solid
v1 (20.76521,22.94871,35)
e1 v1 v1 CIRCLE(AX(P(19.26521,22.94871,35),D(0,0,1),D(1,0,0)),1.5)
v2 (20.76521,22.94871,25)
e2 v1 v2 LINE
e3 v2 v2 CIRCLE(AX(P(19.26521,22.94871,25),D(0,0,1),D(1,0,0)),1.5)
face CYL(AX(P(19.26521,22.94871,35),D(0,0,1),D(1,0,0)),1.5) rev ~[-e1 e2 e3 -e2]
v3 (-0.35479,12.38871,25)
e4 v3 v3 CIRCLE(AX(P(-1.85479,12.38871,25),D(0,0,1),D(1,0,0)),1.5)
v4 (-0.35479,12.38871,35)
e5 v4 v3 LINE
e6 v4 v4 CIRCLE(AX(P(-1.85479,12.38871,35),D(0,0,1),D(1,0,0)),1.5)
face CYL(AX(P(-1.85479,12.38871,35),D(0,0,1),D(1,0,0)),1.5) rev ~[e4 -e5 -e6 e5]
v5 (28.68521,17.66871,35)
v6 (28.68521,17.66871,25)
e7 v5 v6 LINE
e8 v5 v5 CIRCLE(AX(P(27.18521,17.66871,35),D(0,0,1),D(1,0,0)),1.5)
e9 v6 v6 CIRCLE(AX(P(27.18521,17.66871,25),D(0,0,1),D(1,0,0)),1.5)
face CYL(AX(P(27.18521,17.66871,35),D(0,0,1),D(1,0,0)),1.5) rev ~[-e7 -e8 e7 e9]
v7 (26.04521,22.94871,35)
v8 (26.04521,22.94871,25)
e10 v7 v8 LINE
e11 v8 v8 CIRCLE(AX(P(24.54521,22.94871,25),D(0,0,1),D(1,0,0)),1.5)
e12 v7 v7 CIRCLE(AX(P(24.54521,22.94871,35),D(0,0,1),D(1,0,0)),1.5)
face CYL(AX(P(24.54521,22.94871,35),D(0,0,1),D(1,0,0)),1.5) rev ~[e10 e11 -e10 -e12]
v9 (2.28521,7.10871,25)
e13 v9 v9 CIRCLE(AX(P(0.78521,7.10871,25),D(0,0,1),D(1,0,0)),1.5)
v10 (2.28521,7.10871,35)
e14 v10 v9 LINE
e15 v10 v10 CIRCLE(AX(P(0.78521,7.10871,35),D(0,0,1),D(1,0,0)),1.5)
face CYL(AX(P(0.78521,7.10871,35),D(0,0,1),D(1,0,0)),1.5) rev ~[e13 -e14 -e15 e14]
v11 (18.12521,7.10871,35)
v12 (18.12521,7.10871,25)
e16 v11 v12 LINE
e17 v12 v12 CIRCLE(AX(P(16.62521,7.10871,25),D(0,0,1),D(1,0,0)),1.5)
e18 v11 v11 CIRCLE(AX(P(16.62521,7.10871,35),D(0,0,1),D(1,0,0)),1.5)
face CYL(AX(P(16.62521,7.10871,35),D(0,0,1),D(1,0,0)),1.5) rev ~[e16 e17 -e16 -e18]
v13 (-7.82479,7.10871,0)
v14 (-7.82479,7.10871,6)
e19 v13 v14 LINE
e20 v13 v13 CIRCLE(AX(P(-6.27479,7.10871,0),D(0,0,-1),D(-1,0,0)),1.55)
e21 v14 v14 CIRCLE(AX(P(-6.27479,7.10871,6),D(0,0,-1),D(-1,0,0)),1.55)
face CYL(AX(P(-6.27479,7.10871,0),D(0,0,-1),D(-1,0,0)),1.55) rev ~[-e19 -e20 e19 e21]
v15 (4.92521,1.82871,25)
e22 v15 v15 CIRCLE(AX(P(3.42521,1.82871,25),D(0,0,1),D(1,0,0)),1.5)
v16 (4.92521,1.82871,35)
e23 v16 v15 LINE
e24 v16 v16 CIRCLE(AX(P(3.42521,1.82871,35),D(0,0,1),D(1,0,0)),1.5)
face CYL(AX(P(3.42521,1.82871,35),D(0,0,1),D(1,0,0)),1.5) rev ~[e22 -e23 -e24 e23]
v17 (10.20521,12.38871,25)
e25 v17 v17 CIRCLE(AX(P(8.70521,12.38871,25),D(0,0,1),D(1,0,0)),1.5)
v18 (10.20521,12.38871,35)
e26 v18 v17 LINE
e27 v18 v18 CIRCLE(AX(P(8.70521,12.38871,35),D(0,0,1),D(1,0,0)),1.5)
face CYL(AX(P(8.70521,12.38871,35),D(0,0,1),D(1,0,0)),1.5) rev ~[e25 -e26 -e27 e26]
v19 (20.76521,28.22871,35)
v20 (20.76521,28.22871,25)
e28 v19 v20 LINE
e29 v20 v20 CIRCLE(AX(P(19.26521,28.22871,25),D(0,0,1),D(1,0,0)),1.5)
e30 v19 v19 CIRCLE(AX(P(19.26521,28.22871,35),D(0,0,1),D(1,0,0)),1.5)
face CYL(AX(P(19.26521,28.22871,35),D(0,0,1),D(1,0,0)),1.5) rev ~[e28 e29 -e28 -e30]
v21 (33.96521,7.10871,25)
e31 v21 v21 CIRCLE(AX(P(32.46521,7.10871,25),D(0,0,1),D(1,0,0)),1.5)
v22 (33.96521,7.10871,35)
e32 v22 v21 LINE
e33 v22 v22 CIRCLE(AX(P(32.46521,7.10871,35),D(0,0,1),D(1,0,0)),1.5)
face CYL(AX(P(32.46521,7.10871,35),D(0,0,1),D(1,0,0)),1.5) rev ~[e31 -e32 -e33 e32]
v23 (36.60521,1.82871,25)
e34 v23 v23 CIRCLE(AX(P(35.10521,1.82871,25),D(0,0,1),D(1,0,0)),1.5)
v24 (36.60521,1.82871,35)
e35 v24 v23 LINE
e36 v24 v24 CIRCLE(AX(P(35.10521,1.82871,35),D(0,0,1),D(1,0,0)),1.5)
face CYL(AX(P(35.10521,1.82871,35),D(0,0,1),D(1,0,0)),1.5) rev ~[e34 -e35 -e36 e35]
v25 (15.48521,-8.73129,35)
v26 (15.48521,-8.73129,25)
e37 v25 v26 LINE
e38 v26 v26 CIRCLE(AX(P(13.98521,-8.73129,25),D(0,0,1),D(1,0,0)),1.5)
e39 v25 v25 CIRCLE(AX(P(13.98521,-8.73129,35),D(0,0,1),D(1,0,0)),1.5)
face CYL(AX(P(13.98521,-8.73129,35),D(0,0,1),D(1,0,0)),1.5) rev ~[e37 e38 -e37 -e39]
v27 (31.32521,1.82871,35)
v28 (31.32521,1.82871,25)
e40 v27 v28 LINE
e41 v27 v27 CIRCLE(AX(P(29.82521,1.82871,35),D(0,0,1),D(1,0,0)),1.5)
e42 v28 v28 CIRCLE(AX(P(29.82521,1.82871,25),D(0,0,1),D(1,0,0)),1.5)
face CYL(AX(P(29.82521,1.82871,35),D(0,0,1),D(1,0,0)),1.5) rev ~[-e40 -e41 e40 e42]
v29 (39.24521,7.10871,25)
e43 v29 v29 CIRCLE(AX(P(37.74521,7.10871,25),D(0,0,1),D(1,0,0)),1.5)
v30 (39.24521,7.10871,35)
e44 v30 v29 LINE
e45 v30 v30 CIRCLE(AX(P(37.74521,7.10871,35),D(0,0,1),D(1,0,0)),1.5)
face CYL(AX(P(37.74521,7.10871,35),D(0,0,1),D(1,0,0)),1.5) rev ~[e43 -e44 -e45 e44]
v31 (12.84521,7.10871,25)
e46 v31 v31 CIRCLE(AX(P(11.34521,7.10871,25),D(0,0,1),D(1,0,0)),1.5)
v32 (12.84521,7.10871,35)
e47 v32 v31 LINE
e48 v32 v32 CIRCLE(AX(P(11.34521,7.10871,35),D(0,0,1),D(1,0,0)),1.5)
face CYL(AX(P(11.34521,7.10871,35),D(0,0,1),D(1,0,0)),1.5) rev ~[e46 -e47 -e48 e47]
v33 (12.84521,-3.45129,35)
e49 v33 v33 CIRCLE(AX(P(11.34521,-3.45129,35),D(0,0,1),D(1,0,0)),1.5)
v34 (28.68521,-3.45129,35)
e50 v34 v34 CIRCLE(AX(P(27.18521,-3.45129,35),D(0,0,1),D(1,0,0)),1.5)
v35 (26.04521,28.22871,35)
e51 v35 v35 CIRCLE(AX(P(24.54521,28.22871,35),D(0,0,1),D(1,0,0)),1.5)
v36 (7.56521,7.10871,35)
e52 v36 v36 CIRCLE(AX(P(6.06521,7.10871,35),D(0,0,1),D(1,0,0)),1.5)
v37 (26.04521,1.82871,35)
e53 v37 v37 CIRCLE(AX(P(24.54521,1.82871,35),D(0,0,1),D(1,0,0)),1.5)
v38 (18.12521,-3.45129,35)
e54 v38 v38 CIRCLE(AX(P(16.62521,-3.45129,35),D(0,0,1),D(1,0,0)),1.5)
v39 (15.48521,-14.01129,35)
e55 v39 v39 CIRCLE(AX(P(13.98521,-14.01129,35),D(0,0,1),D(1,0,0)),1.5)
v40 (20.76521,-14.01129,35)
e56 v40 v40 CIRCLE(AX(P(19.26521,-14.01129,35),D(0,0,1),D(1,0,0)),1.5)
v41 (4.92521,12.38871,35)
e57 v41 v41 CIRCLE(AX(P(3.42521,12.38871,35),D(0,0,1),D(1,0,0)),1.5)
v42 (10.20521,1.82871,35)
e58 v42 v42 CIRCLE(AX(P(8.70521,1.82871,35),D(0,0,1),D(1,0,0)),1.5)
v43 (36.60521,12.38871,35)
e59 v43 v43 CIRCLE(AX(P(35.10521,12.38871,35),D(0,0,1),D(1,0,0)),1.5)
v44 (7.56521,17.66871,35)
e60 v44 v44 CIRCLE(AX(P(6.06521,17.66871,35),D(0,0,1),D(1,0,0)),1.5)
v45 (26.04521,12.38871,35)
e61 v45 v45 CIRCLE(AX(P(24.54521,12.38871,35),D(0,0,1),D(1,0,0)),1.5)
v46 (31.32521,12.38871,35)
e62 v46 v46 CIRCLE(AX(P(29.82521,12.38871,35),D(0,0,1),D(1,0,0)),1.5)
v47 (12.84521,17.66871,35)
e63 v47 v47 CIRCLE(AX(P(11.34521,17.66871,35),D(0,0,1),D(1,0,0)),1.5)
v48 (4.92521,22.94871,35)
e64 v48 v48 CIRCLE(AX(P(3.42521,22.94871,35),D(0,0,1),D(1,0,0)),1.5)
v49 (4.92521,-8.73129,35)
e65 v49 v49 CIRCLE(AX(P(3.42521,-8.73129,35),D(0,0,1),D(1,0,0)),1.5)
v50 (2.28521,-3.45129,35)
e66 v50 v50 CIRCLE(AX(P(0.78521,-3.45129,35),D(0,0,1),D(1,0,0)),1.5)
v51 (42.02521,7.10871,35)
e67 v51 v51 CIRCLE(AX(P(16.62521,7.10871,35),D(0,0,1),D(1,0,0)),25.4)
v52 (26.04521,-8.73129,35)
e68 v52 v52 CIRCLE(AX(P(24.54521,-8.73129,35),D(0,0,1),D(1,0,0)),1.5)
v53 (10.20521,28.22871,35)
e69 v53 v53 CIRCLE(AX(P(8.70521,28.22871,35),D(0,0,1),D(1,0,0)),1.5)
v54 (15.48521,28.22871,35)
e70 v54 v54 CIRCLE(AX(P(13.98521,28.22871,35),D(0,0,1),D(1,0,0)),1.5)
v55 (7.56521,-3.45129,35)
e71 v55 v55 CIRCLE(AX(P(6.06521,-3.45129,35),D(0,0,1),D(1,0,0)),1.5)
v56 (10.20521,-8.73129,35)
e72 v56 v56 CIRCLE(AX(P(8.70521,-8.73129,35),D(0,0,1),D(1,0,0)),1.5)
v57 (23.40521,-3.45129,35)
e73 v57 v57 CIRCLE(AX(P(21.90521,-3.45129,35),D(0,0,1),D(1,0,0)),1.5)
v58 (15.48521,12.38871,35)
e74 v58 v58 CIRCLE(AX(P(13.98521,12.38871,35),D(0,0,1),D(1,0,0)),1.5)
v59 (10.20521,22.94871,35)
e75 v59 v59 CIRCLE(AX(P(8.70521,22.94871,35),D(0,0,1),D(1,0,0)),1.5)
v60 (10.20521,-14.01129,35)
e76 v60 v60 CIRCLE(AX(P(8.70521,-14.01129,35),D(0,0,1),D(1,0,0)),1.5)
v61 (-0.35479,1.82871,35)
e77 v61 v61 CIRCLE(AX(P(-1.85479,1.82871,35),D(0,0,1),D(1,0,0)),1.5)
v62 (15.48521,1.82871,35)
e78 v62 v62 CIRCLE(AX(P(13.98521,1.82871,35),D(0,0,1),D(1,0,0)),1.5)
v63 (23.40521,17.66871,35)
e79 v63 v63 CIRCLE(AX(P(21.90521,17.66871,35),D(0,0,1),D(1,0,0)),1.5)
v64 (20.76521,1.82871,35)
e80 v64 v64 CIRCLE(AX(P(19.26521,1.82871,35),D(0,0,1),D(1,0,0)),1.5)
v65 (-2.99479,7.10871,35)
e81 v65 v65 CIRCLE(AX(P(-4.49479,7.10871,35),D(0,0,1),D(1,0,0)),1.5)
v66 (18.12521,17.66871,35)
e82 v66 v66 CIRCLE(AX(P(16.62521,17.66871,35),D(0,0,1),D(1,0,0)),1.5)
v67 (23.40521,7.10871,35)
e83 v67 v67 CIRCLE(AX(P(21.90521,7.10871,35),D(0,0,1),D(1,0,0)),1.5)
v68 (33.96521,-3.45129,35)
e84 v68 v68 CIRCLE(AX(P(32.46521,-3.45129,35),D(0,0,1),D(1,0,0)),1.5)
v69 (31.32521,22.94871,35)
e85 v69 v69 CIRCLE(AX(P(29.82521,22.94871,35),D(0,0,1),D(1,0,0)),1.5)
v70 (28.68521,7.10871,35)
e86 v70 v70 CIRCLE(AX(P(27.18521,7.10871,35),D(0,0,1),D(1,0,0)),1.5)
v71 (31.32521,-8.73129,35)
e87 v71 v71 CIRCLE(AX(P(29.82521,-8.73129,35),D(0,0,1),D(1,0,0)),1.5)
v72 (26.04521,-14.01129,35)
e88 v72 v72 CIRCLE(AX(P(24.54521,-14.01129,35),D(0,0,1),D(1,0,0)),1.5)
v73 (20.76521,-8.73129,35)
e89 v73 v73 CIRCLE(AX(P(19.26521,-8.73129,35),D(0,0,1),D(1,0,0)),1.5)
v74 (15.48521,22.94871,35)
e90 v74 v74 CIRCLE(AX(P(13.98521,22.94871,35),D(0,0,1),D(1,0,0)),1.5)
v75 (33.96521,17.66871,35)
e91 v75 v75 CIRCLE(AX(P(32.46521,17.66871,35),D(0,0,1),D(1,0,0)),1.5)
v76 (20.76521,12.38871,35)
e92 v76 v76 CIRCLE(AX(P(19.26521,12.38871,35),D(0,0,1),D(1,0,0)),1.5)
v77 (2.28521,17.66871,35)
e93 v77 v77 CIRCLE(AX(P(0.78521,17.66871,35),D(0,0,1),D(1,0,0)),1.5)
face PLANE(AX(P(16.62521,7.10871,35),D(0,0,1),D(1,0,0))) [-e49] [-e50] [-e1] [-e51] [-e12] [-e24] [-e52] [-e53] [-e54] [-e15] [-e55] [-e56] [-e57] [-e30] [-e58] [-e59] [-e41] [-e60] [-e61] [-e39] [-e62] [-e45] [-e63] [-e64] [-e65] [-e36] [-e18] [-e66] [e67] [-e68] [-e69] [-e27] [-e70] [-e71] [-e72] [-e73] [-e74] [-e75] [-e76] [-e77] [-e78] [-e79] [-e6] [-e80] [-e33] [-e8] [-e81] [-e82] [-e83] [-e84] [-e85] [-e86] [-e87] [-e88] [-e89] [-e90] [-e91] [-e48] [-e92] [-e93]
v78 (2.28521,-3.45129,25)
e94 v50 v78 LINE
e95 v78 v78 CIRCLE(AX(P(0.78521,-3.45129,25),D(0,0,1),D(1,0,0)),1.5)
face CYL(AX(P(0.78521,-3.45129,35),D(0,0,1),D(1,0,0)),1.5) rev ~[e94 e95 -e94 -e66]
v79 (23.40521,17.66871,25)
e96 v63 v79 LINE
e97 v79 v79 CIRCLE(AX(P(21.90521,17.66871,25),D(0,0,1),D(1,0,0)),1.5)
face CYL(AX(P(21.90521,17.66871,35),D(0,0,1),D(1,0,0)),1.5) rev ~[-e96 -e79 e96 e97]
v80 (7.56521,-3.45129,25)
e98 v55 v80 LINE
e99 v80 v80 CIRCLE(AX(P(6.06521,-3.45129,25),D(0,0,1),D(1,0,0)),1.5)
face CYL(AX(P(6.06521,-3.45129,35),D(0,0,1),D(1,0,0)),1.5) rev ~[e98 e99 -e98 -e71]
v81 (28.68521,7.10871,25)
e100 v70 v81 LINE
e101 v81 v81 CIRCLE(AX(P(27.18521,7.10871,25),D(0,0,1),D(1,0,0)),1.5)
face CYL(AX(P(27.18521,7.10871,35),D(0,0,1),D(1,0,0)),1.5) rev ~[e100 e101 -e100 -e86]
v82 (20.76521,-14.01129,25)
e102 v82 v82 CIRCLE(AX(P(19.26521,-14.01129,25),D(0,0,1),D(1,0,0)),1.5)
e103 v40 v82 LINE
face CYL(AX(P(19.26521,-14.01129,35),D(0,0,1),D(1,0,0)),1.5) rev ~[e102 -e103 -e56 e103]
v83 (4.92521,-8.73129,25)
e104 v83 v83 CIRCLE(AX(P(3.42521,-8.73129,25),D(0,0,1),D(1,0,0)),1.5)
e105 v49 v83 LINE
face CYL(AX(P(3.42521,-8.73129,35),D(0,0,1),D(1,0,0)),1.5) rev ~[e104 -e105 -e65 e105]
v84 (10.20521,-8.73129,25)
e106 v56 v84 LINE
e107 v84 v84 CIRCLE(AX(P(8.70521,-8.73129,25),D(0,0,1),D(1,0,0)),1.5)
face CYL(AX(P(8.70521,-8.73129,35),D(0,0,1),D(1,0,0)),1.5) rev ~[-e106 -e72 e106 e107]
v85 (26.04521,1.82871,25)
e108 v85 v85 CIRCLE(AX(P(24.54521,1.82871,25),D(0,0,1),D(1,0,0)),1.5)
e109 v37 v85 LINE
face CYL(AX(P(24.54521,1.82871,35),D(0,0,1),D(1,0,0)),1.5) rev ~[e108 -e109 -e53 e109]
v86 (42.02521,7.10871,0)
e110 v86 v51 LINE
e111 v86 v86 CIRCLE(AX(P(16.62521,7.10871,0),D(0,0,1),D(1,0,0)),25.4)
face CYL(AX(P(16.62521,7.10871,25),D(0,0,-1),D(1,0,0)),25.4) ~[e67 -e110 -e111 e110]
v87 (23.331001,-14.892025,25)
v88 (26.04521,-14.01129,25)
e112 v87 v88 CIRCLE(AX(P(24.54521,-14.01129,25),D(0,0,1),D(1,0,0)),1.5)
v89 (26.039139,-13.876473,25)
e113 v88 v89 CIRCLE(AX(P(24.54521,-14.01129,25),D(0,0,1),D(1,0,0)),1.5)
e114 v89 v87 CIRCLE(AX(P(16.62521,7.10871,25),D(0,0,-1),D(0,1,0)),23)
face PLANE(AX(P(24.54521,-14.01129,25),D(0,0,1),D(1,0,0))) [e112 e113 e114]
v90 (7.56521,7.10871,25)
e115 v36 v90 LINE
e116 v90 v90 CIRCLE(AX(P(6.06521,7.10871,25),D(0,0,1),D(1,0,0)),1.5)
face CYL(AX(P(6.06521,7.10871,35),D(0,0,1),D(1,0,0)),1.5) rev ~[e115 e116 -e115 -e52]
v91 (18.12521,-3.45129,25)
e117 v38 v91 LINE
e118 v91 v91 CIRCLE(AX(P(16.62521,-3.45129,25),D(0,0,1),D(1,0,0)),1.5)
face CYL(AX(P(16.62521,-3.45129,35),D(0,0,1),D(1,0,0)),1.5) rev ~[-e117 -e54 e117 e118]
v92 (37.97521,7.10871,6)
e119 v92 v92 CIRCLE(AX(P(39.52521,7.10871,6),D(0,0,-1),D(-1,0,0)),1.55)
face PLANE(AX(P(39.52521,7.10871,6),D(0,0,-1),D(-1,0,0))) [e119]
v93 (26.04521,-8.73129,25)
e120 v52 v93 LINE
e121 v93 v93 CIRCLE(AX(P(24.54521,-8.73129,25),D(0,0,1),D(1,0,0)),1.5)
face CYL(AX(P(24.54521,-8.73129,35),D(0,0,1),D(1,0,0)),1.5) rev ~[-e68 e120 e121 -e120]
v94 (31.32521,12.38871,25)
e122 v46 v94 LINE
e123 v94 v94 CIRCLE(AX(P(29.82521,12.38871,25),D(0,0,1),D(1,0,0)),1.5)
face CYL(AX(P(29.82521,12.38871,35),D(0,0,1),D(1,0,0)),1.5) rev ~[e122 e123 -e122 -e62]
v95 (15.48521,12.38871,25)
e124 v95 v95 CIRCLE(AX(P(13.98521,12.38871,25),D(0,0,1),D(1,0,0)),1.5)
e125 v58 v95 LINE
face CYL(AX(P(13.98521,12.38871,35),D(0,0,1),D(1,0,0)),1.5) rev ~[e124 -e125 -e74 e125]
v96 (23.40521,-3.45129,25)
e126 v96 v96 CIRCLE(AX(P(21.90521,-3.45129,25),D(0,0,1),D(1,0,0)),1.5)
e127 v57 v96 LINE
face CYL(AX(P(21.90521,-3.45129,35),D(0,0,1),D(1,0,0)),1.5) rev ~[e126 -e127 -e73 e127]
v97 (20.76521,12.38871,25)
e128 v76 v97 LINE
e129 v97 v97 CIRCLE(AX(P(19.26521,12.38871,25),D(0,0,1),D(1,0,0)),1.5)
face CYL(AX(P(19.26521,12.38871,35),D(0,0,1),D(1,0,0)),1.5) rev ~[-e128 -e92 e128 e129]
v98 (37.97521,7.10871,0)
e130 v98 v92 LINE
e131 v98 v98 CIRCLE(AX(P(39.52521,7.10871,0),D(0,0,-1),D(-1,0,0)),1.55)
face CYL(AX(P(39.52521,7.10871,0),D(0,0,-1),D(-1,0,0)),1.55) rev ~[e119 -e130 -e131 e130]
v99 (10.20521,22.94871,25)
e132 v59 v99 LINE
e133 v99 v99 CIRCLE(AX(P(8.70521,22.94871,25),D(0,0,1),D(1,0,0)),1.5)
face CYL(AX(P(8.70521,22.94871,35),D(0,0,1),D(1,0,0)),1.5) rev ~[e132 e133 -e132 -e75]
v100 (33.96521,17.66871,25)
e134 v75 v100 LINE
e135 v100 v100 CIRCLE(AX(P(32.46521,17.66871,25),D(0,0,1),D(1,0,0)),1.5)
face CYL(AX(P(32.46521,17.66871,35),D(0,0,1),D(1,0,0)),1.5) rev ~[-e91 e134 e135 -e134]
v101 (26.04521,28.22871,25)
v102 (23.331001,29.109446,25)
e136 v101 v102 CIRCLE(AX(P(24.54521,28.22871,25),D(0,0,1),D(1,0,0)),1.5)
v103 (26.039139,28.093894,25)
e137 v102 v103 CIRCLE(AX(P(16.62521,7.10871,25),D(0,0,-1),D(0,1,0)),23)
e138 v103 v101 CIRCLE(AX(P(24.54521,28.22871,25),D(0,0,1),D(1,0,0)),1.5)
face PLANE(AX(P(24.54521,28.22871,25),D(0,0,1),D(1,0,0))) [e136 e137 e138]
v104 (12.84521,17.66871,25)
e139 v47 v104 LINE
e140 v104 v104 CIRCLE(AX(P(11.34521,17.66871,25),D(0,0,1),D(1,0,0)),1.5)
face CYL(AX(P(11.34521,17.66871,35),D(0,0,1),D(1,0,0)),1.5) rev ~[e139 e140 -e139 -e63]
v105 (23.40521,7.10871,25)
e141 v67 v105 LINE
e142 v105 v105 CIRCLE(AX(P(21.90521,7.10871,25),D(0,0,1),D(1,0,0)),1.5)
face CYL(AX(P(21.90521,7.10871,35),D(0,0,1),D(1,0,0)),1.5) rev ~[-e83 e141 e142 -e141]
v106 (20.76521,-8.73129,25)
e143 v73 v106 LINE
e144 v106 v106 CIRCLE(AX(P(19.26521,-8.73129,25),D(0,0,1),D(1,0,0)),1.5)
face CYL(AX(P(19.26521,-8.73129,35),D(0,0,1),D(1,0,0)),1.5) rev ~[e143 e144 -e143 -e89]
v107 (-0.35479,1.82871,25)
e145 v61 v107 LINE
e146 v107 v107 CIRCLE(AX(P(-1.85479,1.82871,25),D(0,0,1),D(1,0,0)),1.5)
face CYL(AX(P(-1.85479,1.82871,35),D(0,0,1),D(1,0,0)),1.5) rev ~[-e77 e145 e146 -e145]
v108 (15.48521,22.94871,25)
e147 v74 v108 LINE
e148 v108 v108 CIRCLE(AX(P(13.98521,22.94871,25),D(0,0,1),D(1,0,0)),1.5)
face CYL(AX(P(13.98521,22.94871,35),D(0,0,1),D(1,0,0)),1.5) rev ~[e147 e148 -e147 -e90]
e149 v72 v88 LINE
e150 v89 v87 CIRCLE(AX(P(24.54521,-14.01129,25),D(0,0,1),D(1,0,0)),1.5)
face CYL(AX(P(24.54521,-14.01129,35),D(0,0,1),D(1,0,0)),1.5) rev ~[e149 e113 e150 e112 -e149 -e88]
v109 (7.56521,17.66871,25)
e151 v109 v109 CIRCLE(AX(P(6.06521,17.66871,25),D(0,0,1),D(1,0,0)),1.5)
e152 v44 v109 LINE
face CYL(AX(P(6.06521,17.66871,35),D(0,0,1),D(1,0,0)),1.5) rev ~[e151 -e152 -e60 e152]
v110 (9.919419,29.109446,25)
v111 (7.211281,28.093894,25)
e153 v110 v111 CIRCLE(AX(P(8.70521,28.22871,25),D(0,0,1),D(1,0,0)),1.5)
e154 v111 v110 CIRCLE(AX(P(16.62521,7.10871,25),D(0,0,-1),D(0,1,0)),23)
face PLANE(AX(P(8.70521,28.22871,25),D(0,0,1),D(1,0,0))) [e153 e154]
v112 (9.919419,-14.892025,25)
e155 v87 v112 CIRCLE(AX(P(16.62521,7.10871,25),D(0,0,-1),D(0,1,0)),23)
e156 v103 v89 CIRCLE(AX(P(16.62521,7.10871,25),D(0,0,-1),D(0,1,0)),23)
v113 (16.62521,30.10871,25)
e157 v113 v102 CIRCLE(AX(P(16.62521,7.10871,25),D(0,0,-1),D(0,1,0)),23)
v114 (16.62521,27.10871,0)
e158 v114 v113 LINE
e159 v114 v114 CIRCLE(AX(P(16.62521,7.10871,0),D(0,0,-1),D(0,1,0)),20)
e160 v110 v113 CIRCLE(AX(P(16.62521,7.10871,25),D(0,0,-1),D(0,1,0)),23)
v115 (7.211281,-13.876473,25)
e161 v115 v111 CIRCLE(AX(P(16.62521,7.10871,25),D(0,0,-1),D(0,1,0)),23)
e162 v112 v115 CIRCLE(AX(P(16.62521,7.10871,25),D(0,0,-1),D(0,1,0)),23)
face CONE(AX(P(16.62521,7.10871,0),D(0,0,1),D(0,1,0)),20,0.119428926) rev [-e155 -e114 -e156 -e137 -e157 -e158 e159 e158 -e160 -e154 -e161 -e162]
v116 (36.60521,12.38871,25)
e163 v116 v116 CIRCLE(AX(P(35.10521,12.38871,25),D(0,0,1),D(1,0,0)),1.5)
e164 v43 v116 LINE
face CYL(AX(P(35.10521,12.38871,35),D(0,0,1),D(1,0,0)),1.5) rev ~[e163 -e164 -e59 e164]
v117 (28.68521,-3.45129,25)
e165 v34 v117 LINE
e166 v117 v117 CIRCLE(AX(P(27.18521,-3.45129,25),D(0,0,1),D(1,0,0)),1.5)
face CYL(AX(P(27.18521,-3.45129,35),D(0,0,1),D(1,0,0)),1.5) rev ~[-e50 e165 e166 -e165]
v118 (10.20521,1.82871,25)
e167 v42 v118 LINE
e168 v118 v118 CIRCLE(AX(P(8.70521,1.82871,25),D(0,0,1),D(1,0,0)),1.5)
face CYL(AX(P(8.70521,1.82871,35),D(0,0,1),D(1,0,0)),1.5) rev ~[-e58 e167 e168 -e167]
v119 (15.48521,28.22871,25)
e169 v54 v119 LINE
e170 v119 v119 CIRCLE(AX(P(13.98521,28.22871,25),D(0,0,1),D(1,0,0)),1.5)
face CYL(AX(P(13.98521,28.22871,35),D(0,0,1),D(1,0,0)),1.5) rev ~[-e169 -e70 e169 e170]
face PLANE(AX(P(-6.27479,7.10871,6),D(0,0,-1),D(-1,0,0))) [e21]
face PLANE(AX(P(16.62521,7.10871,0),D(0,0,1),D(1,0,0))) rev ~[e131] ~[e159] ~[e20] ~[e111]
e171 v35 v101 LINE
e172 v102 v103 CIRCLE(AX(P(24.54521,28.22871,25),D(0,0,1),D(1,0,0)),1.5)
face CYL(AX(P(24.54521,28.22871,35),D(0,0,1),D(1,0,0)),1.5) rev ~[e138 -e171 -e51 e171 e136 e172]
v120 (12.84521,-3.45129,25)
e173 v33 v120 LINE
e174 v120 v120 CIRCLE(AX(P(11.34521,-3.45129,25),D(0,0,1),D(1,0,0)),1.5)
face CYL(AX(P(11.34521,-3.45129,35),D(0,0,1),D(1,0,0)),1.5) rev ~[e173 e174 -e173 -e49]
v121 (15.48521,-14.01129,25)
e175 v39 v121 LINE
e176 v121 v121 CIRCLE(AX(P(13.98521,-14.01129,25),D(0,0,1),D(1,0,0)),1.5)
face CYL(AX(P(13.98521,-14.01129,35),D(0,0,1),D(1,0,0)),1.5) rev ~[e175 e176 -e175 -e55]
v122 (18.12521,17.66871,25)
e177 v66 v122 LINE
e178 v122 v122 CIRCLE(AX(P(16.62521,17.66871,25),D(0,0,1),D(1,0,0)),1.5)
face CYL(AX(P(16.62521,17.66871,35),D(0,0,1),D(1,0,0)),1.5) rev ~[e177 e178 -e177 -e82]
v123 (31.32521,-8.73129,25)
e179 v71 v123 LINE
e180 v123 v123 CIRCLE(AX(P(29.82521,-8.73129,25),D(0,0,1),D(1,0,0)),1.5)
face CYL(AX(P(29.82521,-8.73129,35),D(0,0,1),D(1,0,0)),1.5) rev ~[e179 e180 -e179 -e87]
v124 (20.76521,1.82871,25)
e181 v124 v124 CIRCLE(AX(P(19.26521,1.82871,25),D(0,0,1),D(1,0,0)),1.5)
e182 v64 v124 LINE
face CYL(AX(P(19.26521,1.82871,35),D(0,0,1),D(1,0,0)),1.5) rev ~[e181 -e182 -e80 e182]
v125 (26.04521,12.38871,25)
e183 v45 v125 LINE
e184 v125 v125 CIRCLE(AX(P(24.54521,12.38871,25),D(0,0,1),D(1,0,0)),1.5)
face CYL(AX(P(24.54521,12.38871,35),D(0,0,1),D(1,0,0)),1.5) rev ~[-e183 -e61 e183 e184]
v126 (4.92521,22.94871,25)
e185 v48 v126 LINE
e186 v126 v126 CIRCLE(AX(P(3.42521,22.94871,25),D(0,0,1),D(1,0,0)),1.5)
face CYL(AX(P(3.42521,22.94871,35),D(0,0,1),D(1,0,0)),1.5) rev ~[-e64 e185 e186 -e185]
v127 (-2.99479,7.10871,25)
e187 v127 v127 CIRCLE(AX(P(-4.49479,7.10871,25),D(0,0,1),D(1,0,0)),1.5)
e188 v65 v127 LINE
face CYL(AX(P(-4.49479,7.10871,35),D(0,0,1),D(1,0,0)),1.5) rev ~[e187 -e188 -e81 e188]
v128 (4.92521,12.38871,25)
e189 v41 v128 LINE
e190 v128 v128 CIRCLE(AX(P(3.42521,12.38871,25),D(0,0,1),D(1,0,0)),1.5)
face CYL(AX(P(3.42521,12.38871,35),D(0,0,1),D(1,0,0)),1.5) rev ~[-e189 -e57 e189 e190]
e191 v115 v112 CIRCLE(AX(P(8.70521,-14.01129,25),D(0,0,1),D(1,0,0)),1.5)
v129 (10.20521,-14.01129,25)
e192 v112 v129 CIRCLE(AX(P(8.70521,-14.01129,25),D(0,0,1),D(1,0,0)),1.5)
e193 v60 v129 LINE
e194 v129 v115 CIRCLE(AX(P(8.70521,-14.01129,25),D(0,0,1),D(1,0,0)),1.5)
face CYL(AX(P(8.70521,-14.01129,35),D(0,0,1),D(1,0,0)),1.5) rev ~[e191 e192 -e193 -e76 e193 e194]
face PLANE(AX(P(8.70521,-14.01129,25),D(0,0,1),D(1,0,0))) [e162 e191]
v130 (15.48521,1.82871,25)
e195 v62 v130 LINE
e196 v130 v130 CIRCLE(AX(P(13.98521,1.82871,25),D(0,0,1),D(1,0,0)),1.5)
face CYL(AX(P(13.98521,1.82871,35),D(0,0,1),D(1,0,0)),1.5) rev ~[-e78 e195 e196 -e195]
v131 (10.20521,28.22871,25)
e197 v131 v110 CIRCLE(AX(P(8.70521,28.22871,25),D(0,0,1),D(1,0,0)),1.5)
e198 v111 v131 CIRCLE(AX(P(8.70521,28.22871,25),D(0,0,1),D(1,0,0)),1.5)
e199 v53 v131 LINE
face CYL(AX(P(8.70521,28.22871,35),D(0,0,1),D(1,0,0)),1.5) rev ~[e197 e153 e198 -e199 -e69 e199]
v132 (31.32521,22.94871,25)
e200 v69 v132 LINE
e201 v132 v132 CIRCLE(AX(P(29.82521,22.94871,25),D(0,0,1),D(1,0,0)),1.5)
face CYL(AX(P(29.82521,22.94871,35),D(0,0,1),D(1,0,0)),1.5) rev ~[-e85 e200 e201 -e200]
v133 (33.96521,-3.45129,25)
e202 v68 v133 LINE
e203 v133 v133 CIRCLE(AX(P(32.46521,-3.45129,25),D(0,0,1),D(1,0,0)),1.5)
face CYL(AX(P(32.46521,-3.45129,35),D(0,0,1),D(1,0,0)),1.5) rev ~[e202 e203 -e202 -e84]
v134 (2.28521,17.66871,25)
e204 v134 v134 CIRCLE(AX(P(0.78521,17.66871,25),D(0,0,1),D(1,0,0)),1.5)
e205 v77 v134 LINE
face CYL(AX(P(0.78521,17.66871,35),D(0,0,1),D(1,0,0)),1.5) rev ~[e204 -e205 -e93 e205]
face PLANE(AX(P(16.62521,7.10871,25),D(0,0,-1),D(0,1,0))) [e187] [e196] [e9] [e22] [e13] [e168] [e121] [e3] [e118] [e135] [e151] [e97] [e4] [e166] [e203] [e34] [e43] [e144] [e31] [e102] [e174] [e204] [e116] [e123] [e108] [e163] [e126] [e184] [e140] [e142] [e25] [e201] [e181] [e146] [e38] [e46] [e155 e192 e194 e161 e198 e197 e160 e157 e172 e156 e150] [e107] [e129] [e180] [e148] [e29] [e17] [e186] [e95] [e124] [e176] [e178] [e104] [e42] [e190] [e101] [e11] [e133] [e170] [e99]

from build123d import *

# Parameters (mm, degrees)
ESQUISSE1_R             = 25.4
BOSS_EXTRU_1_DEPTH      = 25
ESQUISSE6_R             = 1.55
ENL_V_MAT_EXTRU_4_DEPTH = 6
ESQUISSE8_R             = 25.4
BOSS_EXTRU_3_DEPTH      = 10
ESQUISSE9_R             = 1.5
ENL_V_MAT_EXTRU_5_DEPTH = 10


with BuildPart() as part:
    # Esquisse1 → Boss.-Extru.1 (new body)
    with BuildSketch(Plane.XY):
        with Locations((16.625210007, 7.108710486)):
            Circle(ESQUISSE1_R)
    extrude(amount=BOSS_EXTRU_1_DEPTH)

    # Esquisse6 → Enlèv. mat.-Extru.4 (cut)
    with BuildSketch(Plane(origin=(0, 0, 0), x_dir=(-1, 0, 0), z_dir=(0, 0, -1))):
        with Locations((-39.525210007, 7.108710486)):
            Circle(ESQUISSE6_R)
        with Locations((6.274789993, 7.108710486)):
            Circle(ESQUISSE6_R)
    extrude(amount=-ENL_V_MAT_EXTRU_4_DEPTH, mode=Mode.SUBTRACT)

    # Esquisse8 → Boss.-Extru.3 (add)
    with BuildSketch(Plane.XY.offset(25)):
        with Locations((16.625210007, 7.108710486)):
            Circle(ESQUISSE8_R)
    extrude(amount=BOSS_EXTRU_3_DEPTH)

    # Esquisse9 → Enlèv. mat.-Extru.5 (cut)
    with BuildSketch(Plane.XY.offset(35)):
        with Locations((16.625210007, 7.108710486)):
            Circle(ESQUISSE9_R)
        with Locations((21.905210007, 7.108710486)):
            Circle(ESQUISSE9_R)
        with Locations((27.185210007, 7.108710486)):
            Circle(ESQUISSE9_R)
        with Locations((32.465210007, 7.108710486)):
            Circle(ESQUISSE9_R)
        with Locations((37.745210007, 7.108710486)):
            Circle(ESQUISSE9_R)
        with Locations((11.345210007, 7.108710486)):
            Circle(ESQUISSE9_R)
        with Locations((6.065210007, 7.108710486)):
            Circle(ESQUISSE9_R)
        with Locations((0.785210007, 7.108710486)):
            Circle(ESQUISSE9_R)
        with Locations((-4.494789993, 7.108710486)):
            Circle(ESQUISSE9_R)
        with Locations((0.785210007, 17.668710486)):
            Circle(ESQUISSE9_R)
        with Locations((6.065210007, 17.668710486)):
            Circle(ESQUISSE9_R)
        with Locations((11.345210007, 17.668710486)):
            Circle(ESQUISSE9_R)
        with Locations((16.625210007, 17.668710486)):
            Circle(ESQUISSE9_R)
        with Locations((21.905210007, 17.668710486)):
            Circle(ESQUISSE9_R)
        with Locations((27.185210007, 17.668710486)):
            Circle(ESQUISSE9_R)
        with Locations((32.465210007, 17.668710486)):
            Circle(ESQUISSE9_R)
        with Locations((8.705210007, 12.388710486)):
            Circle(ESQUISSE9_R)
        with Locations((13.985210007, 12.388710486)):
            Circle(ESQUISSE9_R)
        with Locations((19.265210007, 12.388710486)):
            Circle(ESQUISSE9_R)
        with Locations((24.545210007, 12.388710486)):
            Circle(ESQUISSE9_R)
        with Locations((29.825210007, 12.388710486)):
            Circle(ESQUISSE9_R)
        with Locations((35.105210007, 12.388710486)):
            Circle(ESQUISSE9_R)
        with Locations((3.425210007, 12.388710486)):
            Circle(ESQUISSE9_R)
        with Locations((-1.854789993, 12.388710486)):
            Circle(ESQUISSE9_R)
        with Locations((13.985210007, 22.948710486)):
            Circle(ESQUISSE9_R)
        with Locations((19.265210007, 22.948710486)):
            Circle(ESQUISSE9_R)
        with Locations((24.545210007, 22.948710486)):
            Circle(ESQUISSE9_R)
        with Locations((13.985210007, 28.228710486)):
            Circle(ESQUISSE9_R)
        with Locations((19.265210007, 28.228710486)):
            Circle(ESQUISSE9_R)
        with Locations((24.545210007, 28.228710486)):
            Circle(ESQUISSE9_R)
        with Locations((8.705210007, 22.948710486)):
            Circle(ESQUISSE9_R)
        with Locations((8.705210007, 28.228710486)):
            Circle(ESQUISSE9_R)
        with Locations((29.825210007, 22.948710486)):
            Circle(ESQUISSE9_R)
        with Locations((3.425210007, 22.948710486)):
            Circle(ESQUISSE9_R)
        with Locations((35.105210007, 1.828710486)):
            Circle(ESQUISSE9_R)
        with Locations((29.825210007, 1.828710486)):
            Circle(ESQUISSE9_R)
        with Locations((24.545210007, 1.828710486)):
            Circle(ESQUISSE9_R)
        with Locations((19.265210007, 1.828710486)):
            Circle(ESQUISSE9_R)
        with Locations((13.985210007, 1.828710486)):
            Circle(ESQUISSE9_R)
        with Locations((8.705210007, 1.828710486)):
            Circle(ESQUISSE9_R)
        with Locations((3.425210007, 1.828710486)):
            Circle(ESQUISSE9_R)
        with Locations((-1.854789993, 1.828710486)):
            Circle(ESQUISSE9_R)
        with Locations((0.785210007, -3.451289514)):
            Circle(ESQUISSE9_R)
        with Locations((6.065210007, -3.451289514)):
            Circle(ESQUISSE9_R)
        with Locations((11.345210007, -3.451289514)):
            Circle(ESQUISSE9_R)
        with Locations((16.625210007, -3.451289514)):
            Circle(ESQUISSE9_R)
        with Locations((21.905210007, -3.451289514)):
            Circle(ESQUISSE9_R)
        with Locations((27.185210007, -3.451289514)):
            Circle(ESQUISSE9_R)
        with Locations((32.465210007, -3.451289514)):
            Circle(ESQUISSE9_R)
        with Locations((29.825210007, -8.731289514)):
            Circle(ESQUISSE9_R)
        with Locations((24.545210007, -8.731289514)):
            Circle(ESQUISSE9_R)
        with Locations((19.265210007, -8.731289514)):
            Circle(ESQUISSE9_R)
        with Locations((13.985210007, -8.731289514)):
            Circle(ESQUISSE9_R)
        with Locations((8.705210007, -8.731289514)):
            Circle(ESQUISSE9_R)
        with Locations((3.425210007, -8.731289514)):
            Circle(ESQUISSE9_R)
        with Locations((8.705210007, -14.011289514)):
            Circle(ESQUISSE9_R)
        with Locations((13.985210007, -14.011289514)):
            Circle(ESQUISSE9_R)
        with Locations((19.265210007, -14.011289514)):
            Circle(ESQUISSE9_R)
        with Locations((24.545210007, -14.011289514)):
            Circle(ESQUISSE9_R)
    extrude(amount=-ENL_V_MAT_EXTRU_5_DEPTH, mode=Mode.SUBTRACT)

    # Esquisse12 → Enlèvement de matière-Révolution1 (revolve, cut)
    with BuildSketch(Plane(origin=(16.625210007, 0, 0), x_dir=(0, 0, -1), z_dir=(1, 0, 0))):
        Polygon((0, 7.108710486), (0, 27.108710486), (-25, 30.108710486), (-25, 7.108710486), align=None)
    revolve(axis=Axis((16.625210007, 7.108710486, 25), (0, 0, -1)), mode=Mode.SUBTRACT)


solid = part.part
